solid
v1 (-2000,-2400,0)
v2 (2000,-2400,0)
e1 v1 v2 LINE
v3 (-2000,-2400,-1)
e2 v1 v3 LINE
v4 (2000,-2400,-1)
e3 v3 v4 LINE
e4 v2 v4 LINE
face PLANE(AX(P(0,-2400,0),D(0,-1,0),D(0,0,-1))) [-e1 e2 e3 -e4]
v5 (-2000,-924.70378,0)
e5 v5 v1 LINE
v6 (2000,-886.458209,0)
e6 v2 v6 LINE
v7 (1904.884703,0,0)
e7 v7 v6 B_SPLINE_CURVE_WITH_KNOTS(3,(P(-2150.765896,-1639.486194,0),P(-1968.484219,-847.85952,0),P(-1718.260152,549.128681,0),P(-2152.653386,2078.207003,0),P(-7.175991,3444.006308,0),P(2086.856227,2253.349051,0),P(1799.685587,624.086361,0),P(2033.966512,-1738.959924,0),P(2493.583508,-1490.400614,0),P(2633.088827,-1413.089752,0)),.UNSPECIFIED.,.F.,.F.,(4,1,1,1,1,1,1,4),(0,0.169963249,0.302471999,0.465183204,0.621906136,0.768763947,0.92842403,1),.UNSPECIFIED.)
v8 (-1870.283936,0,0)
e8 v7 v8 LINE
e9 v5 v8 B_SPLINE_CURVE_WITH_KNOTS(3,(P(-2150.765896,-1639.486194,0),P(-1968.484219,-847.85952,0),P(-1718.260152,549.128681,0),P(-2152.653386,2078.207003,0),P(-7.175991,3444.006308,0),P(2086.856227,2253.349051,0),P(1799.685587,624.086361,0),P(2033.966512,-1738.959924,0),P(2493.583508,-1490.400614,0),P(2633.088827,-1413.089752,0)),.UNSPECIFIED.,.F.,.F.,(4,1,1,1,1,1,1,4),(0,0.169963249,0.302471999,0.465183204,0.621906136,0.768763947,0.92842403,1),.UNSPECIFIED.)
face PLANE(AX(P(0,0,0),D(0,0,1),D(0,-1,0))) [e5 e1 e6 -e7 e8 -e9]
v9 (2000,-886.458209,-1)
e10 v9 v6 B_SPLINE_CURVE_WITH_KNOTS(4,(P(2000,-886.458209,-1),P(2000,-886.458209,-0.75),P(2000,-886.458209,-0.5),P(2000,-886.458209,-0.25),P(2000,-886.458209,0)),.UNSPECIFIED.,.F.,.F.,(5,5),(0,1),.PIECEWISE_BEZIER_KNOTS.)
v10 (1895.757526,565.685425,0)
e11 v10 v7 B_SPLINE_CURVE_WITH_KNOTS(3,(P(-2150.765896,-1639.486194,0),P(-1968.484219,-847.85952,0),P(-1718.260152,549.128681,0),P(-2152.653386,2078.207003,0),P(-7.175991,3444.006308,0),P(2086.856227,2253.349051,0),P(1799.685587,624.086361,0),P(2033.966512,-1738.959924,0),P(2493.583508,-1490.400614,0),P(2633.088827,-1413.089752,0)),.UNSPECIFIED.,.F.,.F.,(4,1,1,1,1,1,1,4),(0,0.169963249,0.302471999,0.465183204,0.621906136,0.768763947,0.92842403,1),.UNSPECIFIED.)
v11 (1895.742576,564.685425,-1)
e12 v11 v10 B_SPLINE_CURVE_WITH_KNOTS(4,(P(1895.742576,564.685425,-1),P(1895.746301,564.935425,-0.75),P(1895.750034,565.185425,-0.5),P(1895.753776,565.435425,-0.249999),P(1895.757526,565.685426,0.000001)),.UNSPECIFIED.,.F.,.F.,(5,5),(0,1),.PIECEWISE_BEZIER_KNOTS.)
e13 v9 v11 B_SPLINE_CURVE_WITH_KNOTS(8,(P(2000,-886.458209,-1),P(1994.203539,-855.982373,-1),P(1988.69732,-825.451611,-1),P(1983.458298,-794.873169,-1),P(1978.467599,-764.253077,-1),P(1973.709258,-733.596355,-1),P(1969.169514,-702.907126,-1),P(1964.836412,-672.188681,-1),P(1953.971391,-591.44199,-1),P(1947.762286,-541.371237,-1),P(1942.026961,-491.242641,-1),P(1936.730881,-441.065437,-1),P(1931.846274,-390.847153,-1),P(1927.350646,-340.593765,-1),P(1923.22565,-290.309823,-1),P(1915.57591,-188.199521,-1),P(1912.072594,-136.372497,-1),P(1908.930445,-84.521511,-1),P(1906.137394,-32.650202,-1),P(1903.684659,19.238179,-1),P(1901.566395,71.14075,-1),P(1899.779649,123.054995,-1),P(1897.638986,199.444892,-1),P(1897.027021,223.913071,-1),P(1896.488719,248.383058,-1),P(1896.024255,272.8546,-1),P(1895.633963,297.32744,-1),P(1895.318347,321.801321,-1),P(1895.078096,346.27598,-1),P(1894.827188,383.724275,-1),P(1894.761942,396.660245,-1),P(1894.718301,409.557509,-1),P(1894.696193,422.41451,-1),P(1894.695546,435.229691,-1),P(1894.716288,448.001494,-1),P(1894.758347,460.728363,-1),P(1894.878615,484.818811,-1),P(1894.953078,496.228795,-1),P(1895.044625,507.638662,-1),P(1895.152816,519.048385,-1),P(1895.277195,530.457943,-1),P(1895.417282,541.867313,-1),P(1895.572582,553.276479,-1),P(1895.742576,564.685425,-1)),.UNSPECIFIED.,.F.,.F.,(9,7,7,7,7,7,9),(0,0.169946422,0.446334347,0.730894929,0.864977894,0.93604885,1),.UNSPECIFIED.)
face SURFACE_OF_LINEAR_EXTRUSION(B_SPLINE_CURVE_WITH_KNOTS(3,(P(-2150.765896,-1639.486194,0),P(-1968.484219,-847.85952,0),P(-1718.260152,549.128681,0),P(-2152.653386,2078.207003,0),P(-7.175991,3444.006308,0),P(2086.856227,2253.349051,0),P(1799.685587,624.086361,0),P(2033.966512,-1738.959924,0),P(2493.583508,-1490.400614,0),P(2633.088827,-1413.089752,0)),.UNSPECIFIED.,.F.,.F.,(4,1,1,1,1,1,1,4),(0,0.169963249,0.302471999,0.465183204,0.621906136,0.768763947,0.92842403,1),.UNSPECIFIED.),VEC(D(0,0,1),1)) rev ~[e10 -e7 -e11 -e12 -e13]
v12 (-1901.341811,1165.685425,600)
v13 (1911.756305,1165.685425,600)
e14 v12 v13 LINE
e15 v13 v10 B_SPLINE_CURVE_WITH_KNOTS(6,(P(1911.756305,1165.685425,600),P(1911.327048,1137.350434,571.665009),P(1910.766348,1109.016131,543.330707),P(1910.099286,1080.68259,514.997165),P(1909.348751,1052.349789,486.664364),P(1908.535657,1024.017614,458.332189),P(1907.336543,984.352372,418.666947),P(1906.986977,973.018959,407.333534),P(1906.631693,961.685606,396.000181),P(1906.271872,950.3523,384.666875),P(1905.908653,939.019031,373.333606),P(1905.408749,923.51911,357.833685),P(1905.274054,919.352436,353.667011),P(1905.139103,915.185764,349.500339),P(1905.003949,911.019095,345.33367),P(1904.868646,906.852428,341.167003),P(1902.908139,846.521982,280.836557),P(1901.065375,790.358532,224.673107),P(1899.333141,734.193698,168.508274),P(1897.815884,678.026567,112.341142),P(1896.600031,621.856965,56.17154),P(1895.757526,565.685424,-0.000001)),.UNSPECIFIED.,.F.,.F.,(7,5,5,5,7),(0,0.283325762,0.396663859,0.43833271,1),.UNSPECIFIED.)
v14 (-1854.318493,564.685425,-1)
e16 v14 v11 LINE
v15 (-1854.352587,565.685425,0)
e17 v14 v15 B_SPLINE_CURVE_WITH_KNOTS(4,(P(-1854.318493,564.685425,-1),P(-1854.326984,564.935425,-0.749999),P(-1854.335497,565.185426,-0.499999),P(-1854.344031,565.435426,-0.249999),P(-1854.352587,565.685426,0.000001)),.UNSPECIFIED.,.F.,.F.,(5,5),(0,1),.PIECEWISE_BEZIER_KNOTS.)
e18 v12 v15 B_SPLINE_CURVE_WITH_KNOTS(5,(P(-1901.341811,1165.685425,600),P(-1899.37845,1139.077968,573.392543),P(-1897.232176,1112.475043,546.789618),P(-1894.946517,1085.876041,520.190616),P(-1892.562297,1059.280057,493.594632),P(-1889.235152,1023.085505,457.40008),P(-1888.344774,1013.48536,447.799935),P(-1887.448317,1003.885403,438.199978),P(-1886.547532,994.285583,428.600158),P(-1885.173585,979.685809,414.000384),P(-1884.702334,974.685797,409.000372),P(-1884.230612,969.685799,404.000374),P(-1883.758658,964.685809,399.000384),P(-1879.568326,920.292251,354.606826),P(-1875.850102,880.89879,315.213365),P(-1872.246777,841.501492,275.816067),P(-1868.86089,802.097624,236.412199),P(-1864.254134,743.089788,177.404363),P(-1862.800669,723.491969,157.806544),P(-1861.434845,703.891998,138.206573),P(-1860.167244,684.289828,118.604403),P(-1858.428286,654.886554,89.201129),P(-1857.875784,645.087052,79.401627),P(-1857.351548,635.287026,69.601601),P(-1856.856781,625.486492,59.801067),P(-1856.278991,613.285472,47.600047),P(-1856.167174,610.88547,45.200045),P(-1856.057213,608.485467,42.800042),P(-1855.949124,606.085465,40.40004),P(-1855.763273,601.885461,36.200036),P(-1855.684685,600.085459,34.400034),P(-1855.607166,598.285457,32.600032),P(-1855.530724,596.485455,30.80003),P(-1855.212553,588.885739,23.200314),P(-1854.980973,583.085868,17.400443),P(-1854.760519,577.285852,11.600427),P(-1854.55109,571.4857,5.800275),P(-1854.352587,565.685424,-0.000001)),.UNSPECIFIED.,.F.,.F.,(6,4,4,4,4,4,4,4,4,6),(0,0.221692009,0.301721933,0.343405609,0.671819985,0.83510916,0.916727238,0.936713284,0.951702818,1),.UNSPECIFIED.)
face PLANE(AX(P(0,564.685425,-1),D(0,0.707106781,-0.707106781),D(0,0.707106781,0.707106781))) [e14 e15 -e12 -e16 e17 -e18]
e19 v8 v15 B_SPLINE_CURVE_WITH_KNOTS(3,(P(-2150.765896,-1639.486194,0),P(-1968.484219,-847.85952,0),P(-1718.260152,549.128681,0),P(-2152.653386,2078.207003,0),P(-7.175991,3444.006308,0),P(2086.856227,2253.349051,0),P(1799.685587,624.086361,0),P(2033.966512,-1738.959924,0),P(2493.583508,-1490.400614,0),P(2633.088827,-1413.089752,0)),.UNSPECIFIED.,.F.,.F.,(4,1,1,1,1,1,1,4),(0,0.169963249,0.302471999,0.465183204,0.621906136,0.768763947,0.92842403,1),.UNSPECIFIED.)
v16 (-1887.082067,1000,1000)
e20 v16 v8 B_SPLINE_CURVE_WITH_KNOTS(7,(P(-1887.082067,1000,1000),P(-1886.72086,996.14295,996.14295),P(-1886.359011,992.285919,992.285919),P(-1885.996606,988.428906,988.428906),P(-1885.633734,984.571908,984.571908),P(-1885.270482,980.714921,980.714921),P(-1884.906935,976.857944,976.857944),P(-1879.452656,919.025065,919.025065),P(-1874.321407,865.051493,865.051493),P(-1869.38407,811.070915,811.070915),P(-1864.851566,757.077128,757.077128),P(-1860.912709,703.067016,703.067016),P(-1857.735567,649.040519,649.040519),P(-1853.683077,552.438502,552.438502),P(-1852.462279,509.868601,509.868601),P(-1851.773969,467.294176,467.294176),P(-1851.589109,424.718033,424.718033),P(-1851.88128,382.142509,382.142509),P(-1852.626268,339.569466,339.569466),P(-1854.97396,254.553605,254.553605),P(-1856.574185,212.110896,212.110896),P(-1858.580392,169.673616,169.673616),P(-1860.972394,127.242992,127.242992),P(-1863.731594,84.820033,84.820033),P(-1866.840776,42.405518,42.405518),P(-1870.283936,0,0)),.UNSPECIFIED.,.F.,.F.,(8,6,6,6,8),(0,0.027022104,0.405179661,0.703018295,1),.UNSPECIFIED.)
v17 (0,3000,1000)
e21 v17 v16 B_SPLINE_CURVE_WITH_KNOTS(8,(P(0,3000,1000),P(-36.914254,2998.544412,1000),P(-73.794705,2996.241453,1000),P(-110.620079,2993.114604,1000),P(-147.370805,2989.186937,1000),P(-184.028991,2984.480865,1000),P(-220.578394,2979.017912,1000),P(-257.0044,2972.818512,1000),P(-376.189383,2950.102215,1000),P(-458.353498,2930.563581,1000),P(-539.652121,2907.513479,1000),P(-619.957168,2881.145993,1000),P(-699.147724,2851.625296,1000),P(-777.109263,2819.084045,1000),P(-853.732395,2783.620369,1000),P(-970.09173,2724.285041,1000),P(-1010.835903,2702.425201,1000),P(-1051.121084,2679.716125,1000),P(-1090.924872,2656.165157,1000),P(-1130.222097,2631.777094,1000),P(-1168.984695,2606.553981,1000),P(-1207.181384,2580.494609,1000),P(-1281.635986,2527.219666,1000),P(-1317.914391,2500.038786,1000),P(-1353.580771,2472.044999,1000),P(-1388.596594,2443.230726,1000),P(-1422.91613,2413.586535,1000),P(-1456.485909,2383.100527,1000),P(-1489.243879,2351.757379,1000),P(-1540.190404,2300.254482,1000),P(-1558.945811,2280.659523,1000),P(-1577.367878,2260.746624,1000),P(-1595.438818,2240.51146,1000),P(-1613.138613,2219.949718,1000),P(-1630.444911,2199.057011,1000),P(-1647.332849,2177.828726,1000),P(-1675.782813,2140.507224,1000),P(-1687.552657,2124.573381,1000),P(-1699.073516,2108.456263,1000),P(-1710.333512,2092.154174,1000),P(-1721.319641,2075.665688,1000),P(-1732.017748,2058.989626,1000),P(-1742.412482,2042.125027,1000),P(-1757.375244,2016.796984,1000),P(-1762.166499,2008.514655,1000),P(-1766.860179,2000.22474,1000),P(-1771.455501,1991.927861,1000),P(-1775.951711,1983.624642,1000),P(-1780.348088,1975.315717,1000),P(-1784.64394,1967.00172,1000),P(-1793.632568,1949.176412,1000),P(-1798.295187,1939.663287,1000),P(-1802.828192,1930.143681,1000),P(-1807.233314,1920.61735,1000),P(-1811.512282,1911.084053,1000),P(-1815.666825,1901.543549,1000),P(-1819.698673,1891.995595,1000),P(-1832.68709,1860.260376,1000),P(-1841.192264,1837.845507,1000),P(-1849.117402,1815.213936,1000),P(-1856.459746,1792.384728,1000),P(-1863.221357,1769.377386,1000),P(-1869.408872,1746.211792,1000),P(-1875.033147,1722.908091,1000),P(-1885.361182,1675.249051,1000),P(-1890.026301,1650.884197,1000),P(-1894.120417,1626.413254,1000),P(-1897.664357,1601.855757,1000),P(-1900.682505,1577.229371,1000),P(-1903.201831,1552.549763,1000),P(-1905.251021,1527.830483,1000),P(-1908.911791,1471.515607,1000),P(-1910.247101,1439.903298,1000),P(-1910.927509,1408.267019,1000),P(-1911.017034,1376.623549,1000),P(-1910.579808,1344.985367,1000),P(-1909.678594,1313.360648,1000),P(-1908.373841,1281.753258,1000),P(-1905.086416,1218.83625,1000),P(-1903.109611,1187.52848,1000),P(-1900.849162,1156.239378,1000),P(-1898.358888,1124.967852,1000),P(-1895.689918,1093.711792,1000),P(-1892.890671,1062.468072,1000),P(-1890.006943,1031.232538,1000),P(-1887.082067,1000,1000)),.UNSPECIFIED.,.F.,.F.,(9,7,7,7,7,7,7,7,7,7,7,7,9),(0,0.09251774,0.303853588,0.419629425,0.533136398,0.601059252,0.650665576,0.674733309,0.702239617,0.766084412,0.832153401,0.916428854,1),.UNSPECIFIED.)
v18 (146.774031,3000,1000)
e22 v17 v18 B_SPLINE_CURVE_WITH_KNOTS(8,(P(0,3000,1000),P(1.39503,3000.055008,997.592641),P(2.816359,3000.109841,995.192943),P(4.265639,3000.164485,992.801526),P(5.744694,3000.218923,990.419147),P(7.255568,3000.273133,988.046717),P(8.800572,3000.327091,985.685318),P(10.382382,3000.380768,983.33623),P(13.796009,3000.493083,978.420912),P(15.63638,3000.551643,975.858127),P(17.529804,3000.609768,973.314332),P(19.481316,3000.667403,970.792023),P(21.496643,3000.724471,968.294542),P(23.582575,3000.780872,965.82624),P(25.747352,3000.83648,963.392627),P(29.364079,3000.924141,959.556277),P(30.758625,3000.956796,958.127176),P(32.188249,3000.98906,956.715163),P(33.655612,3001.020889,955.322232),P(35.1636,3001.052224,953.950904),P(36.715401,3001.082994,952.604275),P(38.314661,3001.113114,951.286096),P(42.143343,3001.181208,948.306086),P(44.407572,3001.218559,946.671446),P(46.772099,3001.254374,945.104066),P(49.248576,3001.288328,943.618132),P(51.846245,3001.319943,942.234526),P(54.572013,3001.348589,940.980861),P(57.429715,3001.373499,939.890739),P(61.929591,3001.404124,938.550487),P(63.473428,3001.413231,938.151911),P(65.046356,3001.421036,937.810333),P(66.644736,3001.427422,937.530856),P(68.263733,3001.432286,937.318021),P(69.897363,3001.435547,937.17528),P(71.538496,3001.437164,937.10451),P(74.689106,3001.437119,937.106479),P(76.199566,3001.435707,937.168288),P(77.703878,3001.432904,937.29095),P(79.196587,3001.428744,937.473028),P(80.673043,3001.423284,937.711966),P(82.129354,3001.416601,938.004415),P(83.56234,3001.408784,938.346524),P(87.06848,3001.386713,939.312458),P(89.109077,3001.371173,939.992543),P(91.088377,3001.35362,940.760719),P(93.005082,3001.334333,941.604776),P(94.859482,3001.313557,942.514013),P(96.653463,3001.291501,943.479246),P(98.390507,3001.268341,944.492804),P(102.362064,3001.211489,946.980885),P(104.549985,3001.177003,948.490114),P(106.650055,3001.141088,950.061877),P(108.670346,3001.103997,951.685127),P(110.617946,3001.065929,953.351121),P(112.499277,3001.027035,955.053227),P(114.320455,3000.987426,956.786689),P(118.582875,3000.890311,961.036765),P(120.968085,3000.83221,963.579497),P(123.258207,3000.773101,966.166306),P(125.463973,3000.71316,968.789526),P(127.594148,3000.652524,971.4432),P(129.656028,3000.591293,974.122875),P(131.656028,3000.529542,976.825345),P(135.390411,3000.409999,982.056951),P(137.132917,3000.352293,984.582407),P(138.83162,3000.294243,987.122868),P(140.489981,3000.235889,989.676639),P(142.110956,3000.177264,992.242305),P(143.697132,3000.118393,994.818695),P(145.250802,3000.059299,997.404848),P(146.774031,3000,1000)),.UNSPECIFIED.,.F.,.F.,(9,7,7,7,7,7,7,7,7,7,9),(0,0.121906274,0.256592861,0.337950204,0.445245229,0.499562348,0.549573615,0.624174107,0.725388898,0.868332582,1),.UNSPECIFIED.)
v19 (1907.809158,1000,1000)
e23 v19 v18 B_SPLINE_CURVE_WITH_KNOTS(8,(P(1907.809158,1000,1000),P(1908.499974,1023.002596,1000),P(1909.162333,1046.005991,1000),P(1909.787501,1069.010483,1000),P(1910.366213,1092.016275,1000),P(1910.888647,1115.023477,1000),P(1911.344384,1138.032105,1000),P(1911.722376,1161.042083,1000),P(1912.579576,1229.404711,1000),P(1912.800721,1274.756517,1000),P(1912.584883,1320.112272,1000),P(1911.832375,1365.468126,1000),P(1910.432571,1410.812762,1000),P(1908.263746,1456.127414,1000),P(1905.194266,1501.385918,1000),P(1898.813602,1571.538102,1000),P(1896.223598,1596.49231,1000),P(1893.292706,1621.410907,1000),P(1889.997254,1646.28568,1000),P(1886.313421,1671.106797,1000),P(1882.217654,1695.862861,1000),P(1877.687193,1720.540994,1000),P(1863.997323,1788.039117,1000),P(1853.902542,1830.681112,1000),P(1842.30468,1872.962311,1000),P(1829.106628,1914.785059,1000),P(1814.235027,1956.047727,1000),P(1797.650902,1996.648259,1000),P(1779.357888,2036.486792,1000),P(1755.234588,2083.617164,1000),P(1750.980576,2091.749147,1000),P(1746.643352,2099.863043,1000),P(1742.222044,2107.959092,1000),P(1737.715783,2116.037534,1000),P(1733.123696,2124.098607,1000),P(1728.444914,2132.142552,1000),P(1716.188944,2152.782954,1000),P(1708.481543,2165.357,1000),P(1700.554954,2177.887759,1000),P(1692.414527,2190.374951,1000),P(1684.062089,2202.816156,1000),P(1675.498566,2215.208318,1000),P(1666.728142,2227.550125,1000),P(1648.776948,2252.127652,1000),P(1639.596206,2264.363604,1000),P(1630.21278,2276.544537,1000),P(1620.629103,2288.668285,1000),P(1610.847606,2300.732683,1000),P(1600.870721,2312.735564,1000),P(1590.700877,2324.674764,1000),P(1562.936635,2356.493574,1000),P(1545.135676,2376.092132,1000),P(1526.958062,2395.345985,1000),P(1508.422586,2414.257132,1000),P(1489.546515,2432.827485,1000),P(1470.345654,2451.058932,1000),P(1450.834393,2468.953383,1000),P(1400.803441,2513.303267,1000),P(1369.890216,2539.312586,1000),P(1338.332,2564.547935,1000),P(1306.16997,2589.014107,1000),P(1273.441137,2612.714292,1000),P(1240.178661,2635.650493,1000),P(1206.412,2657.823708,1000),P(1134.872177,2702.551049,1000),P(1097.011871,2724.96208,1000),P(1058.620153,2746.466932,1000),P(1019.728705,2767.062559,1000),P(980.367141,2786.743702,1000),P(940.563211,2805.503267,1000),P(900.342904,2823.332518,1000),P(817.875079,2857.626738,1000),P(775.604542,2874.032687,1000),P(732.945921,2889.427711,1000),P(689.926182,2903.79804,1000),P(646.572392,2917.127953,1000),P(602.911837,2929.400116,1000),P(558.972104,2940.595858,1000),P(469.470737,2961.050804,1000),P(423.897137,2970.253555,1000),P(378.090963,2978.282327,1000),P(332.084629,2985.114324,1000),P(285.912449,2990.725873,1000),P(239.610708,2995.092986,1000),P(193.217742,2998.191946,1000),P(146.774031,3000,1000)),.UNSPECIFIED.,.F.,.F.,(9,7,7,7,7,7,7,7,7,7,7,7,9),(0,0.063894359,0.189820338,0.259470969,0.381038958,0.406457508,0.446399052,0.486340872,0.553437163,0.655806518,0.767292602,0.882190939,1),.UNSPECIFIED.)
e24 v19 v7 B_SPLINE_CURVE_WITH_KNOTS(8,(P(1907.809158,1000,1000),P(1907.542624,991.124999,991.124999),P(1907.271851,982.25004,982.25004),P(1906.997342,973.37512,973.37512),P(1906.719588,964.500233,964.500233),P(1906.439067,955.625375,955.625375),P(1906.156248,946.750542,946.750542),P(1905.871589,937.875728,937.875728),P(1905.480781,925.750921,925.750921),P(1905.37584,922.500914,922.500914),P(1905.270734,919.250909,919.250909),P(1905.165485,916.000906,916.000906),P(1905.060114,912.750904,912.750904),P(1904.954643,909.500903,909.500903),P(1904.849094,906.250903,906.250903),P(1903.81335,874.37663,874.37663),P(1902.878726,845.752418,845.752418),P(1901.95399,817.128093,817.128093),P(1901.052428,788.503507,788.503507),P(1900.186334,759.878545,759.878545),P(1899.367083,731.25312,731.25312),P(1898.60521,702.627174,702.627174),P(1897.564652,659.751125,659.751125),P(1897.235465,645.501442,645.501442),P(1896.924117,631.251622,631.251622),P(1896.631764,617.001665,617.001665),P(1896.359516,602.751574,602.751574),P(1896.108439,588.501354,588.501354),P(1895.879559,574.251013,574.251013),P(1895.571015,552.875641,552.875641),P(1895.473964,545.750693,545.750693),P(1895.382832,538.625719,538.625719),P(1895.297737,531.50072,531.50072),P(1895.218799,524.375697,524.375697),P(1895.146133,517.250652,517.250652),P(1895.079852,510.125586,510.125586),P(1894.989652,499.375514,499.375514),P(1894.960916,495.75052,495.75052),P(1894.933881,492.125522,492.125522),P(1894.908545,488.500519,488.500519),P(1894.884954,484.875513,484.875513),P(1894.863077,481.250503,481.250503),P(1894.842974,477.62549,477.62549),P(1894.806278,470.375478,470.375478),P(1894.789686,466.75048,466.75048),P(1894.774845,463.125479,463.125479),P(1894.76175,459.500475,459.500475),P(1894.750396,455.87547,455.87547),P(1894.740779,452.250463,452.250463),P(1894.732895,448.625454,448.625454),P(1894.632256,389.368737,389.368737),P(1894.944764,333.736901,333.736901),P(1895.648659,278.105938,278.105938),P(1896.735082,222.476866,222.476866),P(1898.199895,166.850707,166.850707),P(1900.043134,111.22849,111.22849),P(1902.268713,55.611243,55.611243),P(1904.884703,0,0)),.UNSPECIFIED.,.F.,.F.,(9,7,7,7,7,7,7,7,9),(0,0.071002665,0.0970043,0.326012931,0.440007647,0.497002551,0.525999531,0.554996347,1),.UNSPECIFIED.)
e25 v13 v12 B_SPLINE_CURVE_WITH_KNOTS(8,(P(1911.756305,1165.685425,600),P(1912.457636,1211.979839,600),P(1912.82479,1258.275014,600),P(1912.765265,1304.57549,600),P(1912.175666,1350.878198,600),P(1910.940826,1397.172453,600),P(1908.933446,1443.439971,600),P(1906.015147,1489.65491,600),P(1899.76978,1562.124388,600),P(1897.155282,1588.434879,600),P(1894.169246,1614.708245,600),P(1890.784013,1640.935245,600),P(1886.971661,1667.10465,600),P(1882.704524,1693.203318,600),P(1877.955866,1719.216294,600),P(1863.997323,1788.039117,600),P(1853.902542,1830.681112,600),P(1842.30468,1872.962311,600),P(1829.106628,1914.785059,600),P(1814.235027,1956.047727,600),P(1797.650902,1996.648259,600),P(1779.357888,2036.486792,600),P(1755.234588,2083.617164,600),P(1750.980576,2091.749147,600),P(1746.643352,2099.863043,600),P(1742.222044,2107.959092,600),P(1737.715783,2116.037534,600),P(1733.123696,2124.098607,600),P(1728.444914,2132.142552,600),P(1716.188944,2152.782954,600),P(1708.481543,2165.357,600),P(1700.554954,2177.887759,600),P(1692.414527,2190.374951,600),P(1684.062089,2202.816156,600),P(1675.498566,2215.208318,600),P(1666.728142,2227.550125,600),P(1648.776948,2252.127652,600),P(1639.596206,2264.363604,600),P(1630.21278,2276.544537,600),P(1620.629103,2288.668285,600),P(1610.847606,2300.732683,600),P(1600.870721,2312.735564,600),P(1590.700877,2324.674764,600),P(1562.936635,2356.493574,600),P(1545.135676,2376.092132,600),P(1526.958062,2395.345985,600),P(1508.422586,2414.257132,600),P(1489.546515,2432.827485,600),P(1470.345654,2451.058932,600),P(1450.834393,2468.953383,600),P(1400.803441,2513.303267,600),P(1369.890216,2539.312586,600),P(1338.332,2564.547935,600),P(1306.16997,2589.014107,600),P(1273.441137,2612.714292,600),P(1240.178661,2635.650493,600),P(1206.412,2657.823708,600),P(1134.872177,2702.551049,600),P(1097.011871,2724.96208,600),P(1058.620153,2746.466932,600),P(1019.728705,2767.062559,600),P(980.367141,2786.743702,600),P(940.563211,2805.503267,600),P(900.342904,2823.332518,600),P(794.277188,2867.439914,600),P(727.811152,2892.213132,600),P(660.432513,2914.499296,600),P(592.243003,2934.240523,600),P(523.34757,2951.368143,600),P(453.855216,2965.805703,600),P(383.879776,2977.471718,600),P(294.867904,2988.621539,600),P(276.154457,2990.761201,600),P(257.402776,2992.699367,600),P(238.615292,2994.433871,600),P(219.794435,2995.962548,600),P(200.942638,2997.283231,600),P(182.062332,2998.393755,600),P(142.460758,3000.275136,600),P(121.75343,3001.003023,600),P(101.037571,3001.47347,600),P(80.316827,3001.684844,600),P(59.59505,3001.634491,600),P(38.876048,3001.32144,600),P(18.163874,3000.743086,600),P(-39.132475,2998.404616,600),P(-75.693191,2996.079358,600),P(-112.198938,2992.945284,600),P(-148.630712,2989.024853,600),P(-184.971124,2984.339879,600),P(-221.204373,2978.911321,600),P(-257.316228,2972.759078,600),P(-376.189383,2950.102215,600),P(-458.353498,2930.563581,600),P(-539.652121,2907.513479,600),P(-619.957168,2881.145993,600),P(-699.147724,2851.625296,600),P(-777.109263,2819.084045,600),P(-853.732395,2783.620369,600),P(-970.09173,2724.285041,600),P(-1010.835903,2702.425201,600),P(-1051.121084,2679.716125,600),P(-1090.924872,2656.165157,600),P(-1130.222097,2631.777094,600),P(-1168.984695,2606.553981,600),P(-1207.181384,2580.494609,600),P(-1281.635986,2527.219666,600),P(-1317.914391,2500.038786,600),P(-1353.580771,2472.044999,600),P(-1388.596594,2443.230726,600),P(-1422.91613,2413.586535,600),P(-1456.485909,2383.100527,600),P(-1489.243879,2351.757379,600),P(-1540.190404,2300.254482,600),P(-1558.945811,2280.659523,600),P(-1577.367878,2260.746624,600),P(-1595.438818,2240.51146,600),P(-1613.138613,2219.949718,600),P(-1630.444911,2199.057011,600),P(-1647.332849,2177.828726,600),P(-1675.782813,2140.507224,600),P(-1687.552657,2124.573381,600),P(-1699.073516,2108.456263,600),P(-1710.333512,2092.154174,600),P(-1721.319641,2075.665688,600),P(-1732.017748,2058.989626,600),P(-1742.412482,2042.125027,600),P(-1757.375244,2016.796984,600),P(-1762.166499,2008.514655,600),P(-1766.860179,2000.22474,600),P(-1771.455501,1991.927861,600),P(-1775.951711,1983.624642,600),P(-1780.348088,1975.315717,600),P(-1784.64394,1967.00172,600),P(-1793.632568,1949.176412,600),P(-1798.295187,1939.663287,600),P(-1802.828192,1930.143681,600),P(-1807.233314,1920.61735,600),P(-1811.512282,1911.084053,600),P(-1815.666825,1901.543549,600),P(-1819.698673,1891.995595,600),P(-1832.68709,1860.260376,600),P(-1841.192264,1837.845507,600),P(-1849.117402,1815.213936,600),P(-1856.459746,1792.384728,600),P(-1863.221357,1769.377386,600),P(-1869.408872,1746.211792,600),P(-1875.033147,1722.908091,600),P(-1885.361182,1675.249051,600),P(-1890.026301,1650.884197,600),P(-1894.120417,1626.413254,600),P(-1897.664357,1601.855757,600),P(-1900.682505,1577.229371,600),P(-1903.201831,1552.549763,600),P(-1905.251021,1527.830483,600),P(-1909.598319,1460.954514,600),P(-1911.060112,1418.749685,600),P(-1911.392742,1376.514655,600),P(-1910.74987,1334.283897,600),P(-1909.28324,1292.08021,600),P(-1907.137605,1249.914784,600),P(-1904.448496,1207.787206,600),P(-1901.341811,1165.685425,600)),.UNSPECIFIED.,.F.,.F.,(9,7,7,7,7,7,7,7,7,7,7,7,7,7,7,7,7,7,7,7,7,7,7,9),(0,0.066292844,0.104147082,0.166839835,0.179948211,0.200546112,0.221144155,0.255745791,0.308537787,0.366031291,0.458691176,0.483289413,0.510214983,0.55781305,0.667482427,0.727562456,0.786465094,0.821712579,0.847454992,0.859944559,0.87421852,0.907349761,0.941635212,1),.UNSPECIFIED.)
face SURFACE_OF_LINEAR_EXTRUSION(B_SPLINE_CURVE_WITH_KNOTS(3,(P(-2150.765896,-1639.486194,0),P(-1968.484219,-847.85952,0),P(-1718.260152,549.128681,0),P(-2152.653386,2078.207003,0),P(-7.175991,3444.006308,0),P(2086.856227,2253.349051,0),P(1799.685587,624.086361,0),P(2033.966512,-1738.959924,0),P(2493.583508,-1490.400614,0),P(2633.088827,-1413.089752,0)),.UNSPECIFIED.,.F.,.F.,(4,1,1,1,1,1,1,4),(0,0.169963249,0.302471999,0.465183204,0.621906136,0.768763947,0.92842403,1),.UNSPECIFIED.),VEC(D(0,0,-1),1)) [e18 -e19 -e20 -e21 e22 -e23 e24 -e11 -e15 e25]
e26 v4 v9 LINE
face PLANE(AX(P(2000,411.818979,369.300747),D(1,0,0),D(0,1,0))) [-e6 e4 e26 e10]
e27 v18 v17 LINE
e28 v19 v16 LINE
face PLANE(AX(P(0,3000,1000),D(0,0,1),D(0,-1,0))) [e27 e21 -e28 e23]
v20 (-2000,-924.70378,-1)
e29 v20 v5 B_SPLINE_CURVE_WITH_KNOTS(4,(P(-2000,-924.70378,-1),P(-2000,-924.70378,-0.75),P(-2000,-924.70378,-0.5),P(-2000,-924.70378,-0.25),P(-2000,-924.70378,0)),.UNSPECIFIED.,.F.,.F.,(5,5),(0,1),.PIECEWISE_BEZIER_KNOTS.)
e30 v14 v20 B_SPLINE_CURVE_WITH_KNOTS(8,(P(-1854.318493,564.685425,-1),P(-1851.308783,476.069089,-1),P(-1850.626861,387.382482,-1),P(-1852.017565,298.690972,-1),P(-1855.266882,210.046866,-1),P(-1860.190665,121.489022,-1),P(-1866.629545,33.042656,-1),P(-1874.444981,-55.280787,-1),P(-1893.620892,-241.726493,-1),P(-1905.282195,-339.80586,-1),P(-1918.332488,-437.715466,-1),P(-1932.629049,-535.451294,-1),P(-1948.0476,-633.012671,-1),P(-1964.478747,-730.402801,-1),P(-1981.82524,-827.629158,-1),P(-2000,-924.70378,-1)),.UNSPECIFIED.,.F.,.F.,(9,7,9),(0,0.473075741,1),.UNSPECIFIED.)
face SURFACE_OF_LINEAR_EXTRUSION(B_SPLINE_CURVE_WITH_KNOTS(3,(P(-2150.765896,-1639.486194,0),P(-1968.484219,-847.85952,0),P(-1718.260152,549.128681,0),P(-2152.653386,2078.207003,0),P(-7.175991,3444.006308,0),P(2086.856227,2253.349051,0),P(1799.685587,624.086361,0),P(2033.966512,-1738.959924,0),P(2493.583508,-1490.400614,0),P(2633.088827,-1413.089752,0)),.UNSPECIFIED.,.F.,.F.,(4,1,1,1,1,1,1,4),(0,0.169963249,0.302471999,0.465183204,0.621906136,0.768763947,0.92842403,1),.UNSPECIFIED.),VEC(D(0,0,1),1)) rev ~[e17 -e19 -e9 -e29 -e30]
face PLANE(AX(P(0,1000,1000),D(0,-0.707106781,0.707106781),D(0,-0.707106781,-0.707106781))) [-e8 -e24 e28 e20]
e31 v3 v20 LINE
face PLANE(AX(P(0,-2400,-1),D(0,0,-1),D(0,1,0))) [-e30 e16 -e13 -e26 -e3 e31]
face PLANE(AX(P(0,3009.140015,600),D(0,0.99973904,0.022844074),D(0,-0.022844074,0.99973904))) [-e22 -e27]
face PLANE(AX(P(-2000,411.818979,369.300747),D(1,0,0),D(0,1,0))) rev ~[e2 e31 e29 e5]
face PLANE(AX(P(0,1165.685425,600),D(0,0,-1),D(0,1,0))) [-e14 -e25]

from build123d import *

# Parameters (mm, degrees)
F1_DEPTH      = 2000
F3_DEPTH      = 1000.001
F3_DEPTH_BACK = 25


with BuildPart() as f1:
    # F0 (on Right) → F1 (new body, symmetric)
    with BuildSketch(Plane.YZ):
        Polygon((0, 0), (-2400, 0), (-2400, -1), (564.6854249492, -1), (1165.6854249492, 600), (3009.1400146484, 600), (3000, 1000), (1000, 1000), align=None)
    extrude(amount=F1_DEPTH, both=True)

    # F2 (on Top) → F3 (cut, two sides)
    with BuildSketch(Plane.XY) as f3_sk:
        with BuildLine():
            Line((-2150.7658958435, 3114.8386001587), (-2150.7658958435, -1639.4861936569))
            add(Edge.make_bspline(
                [(-2150.7658958435, -1639.4861936569), (-1968.4842187519, -847.8595203721), (-1718.2601518483, 549.1286813285), (-2152.6533858763, 2078.2070033877), (-7.1759905069, 3444.006307923), (2086.856226983, 2253.3490514909), (1799.6855873754, 624.0863609646), (2033.96651154, -1738.9599241934), (2493.5835084202, -1490.4006136839), (2633.0888271332, -1413.0897521973)],
                knots=[0, 0, 0, 0, 0.169963249, 0.3024719992, 0.4651832044, 0.621906136, 0.7687639473, 0.9284240297, 1, 1, 1, 1], degree=3))
            Line((2633.0888271332, -1413.0897521973), (2485.4388237, 3114.8386001587))
            Line((2485.4388237, 3114.8386001587), (-2150.7658958435, 3114.8386001587))
        make_face()
    extrude(amount=F3_DEPTH, mode=Mode.SUBTRACT)
    extrude(f3_sk.sketch, amount=-F3_DEPTH_BACK, mode=Mode.SUBTRACT)


solid = f1.part
